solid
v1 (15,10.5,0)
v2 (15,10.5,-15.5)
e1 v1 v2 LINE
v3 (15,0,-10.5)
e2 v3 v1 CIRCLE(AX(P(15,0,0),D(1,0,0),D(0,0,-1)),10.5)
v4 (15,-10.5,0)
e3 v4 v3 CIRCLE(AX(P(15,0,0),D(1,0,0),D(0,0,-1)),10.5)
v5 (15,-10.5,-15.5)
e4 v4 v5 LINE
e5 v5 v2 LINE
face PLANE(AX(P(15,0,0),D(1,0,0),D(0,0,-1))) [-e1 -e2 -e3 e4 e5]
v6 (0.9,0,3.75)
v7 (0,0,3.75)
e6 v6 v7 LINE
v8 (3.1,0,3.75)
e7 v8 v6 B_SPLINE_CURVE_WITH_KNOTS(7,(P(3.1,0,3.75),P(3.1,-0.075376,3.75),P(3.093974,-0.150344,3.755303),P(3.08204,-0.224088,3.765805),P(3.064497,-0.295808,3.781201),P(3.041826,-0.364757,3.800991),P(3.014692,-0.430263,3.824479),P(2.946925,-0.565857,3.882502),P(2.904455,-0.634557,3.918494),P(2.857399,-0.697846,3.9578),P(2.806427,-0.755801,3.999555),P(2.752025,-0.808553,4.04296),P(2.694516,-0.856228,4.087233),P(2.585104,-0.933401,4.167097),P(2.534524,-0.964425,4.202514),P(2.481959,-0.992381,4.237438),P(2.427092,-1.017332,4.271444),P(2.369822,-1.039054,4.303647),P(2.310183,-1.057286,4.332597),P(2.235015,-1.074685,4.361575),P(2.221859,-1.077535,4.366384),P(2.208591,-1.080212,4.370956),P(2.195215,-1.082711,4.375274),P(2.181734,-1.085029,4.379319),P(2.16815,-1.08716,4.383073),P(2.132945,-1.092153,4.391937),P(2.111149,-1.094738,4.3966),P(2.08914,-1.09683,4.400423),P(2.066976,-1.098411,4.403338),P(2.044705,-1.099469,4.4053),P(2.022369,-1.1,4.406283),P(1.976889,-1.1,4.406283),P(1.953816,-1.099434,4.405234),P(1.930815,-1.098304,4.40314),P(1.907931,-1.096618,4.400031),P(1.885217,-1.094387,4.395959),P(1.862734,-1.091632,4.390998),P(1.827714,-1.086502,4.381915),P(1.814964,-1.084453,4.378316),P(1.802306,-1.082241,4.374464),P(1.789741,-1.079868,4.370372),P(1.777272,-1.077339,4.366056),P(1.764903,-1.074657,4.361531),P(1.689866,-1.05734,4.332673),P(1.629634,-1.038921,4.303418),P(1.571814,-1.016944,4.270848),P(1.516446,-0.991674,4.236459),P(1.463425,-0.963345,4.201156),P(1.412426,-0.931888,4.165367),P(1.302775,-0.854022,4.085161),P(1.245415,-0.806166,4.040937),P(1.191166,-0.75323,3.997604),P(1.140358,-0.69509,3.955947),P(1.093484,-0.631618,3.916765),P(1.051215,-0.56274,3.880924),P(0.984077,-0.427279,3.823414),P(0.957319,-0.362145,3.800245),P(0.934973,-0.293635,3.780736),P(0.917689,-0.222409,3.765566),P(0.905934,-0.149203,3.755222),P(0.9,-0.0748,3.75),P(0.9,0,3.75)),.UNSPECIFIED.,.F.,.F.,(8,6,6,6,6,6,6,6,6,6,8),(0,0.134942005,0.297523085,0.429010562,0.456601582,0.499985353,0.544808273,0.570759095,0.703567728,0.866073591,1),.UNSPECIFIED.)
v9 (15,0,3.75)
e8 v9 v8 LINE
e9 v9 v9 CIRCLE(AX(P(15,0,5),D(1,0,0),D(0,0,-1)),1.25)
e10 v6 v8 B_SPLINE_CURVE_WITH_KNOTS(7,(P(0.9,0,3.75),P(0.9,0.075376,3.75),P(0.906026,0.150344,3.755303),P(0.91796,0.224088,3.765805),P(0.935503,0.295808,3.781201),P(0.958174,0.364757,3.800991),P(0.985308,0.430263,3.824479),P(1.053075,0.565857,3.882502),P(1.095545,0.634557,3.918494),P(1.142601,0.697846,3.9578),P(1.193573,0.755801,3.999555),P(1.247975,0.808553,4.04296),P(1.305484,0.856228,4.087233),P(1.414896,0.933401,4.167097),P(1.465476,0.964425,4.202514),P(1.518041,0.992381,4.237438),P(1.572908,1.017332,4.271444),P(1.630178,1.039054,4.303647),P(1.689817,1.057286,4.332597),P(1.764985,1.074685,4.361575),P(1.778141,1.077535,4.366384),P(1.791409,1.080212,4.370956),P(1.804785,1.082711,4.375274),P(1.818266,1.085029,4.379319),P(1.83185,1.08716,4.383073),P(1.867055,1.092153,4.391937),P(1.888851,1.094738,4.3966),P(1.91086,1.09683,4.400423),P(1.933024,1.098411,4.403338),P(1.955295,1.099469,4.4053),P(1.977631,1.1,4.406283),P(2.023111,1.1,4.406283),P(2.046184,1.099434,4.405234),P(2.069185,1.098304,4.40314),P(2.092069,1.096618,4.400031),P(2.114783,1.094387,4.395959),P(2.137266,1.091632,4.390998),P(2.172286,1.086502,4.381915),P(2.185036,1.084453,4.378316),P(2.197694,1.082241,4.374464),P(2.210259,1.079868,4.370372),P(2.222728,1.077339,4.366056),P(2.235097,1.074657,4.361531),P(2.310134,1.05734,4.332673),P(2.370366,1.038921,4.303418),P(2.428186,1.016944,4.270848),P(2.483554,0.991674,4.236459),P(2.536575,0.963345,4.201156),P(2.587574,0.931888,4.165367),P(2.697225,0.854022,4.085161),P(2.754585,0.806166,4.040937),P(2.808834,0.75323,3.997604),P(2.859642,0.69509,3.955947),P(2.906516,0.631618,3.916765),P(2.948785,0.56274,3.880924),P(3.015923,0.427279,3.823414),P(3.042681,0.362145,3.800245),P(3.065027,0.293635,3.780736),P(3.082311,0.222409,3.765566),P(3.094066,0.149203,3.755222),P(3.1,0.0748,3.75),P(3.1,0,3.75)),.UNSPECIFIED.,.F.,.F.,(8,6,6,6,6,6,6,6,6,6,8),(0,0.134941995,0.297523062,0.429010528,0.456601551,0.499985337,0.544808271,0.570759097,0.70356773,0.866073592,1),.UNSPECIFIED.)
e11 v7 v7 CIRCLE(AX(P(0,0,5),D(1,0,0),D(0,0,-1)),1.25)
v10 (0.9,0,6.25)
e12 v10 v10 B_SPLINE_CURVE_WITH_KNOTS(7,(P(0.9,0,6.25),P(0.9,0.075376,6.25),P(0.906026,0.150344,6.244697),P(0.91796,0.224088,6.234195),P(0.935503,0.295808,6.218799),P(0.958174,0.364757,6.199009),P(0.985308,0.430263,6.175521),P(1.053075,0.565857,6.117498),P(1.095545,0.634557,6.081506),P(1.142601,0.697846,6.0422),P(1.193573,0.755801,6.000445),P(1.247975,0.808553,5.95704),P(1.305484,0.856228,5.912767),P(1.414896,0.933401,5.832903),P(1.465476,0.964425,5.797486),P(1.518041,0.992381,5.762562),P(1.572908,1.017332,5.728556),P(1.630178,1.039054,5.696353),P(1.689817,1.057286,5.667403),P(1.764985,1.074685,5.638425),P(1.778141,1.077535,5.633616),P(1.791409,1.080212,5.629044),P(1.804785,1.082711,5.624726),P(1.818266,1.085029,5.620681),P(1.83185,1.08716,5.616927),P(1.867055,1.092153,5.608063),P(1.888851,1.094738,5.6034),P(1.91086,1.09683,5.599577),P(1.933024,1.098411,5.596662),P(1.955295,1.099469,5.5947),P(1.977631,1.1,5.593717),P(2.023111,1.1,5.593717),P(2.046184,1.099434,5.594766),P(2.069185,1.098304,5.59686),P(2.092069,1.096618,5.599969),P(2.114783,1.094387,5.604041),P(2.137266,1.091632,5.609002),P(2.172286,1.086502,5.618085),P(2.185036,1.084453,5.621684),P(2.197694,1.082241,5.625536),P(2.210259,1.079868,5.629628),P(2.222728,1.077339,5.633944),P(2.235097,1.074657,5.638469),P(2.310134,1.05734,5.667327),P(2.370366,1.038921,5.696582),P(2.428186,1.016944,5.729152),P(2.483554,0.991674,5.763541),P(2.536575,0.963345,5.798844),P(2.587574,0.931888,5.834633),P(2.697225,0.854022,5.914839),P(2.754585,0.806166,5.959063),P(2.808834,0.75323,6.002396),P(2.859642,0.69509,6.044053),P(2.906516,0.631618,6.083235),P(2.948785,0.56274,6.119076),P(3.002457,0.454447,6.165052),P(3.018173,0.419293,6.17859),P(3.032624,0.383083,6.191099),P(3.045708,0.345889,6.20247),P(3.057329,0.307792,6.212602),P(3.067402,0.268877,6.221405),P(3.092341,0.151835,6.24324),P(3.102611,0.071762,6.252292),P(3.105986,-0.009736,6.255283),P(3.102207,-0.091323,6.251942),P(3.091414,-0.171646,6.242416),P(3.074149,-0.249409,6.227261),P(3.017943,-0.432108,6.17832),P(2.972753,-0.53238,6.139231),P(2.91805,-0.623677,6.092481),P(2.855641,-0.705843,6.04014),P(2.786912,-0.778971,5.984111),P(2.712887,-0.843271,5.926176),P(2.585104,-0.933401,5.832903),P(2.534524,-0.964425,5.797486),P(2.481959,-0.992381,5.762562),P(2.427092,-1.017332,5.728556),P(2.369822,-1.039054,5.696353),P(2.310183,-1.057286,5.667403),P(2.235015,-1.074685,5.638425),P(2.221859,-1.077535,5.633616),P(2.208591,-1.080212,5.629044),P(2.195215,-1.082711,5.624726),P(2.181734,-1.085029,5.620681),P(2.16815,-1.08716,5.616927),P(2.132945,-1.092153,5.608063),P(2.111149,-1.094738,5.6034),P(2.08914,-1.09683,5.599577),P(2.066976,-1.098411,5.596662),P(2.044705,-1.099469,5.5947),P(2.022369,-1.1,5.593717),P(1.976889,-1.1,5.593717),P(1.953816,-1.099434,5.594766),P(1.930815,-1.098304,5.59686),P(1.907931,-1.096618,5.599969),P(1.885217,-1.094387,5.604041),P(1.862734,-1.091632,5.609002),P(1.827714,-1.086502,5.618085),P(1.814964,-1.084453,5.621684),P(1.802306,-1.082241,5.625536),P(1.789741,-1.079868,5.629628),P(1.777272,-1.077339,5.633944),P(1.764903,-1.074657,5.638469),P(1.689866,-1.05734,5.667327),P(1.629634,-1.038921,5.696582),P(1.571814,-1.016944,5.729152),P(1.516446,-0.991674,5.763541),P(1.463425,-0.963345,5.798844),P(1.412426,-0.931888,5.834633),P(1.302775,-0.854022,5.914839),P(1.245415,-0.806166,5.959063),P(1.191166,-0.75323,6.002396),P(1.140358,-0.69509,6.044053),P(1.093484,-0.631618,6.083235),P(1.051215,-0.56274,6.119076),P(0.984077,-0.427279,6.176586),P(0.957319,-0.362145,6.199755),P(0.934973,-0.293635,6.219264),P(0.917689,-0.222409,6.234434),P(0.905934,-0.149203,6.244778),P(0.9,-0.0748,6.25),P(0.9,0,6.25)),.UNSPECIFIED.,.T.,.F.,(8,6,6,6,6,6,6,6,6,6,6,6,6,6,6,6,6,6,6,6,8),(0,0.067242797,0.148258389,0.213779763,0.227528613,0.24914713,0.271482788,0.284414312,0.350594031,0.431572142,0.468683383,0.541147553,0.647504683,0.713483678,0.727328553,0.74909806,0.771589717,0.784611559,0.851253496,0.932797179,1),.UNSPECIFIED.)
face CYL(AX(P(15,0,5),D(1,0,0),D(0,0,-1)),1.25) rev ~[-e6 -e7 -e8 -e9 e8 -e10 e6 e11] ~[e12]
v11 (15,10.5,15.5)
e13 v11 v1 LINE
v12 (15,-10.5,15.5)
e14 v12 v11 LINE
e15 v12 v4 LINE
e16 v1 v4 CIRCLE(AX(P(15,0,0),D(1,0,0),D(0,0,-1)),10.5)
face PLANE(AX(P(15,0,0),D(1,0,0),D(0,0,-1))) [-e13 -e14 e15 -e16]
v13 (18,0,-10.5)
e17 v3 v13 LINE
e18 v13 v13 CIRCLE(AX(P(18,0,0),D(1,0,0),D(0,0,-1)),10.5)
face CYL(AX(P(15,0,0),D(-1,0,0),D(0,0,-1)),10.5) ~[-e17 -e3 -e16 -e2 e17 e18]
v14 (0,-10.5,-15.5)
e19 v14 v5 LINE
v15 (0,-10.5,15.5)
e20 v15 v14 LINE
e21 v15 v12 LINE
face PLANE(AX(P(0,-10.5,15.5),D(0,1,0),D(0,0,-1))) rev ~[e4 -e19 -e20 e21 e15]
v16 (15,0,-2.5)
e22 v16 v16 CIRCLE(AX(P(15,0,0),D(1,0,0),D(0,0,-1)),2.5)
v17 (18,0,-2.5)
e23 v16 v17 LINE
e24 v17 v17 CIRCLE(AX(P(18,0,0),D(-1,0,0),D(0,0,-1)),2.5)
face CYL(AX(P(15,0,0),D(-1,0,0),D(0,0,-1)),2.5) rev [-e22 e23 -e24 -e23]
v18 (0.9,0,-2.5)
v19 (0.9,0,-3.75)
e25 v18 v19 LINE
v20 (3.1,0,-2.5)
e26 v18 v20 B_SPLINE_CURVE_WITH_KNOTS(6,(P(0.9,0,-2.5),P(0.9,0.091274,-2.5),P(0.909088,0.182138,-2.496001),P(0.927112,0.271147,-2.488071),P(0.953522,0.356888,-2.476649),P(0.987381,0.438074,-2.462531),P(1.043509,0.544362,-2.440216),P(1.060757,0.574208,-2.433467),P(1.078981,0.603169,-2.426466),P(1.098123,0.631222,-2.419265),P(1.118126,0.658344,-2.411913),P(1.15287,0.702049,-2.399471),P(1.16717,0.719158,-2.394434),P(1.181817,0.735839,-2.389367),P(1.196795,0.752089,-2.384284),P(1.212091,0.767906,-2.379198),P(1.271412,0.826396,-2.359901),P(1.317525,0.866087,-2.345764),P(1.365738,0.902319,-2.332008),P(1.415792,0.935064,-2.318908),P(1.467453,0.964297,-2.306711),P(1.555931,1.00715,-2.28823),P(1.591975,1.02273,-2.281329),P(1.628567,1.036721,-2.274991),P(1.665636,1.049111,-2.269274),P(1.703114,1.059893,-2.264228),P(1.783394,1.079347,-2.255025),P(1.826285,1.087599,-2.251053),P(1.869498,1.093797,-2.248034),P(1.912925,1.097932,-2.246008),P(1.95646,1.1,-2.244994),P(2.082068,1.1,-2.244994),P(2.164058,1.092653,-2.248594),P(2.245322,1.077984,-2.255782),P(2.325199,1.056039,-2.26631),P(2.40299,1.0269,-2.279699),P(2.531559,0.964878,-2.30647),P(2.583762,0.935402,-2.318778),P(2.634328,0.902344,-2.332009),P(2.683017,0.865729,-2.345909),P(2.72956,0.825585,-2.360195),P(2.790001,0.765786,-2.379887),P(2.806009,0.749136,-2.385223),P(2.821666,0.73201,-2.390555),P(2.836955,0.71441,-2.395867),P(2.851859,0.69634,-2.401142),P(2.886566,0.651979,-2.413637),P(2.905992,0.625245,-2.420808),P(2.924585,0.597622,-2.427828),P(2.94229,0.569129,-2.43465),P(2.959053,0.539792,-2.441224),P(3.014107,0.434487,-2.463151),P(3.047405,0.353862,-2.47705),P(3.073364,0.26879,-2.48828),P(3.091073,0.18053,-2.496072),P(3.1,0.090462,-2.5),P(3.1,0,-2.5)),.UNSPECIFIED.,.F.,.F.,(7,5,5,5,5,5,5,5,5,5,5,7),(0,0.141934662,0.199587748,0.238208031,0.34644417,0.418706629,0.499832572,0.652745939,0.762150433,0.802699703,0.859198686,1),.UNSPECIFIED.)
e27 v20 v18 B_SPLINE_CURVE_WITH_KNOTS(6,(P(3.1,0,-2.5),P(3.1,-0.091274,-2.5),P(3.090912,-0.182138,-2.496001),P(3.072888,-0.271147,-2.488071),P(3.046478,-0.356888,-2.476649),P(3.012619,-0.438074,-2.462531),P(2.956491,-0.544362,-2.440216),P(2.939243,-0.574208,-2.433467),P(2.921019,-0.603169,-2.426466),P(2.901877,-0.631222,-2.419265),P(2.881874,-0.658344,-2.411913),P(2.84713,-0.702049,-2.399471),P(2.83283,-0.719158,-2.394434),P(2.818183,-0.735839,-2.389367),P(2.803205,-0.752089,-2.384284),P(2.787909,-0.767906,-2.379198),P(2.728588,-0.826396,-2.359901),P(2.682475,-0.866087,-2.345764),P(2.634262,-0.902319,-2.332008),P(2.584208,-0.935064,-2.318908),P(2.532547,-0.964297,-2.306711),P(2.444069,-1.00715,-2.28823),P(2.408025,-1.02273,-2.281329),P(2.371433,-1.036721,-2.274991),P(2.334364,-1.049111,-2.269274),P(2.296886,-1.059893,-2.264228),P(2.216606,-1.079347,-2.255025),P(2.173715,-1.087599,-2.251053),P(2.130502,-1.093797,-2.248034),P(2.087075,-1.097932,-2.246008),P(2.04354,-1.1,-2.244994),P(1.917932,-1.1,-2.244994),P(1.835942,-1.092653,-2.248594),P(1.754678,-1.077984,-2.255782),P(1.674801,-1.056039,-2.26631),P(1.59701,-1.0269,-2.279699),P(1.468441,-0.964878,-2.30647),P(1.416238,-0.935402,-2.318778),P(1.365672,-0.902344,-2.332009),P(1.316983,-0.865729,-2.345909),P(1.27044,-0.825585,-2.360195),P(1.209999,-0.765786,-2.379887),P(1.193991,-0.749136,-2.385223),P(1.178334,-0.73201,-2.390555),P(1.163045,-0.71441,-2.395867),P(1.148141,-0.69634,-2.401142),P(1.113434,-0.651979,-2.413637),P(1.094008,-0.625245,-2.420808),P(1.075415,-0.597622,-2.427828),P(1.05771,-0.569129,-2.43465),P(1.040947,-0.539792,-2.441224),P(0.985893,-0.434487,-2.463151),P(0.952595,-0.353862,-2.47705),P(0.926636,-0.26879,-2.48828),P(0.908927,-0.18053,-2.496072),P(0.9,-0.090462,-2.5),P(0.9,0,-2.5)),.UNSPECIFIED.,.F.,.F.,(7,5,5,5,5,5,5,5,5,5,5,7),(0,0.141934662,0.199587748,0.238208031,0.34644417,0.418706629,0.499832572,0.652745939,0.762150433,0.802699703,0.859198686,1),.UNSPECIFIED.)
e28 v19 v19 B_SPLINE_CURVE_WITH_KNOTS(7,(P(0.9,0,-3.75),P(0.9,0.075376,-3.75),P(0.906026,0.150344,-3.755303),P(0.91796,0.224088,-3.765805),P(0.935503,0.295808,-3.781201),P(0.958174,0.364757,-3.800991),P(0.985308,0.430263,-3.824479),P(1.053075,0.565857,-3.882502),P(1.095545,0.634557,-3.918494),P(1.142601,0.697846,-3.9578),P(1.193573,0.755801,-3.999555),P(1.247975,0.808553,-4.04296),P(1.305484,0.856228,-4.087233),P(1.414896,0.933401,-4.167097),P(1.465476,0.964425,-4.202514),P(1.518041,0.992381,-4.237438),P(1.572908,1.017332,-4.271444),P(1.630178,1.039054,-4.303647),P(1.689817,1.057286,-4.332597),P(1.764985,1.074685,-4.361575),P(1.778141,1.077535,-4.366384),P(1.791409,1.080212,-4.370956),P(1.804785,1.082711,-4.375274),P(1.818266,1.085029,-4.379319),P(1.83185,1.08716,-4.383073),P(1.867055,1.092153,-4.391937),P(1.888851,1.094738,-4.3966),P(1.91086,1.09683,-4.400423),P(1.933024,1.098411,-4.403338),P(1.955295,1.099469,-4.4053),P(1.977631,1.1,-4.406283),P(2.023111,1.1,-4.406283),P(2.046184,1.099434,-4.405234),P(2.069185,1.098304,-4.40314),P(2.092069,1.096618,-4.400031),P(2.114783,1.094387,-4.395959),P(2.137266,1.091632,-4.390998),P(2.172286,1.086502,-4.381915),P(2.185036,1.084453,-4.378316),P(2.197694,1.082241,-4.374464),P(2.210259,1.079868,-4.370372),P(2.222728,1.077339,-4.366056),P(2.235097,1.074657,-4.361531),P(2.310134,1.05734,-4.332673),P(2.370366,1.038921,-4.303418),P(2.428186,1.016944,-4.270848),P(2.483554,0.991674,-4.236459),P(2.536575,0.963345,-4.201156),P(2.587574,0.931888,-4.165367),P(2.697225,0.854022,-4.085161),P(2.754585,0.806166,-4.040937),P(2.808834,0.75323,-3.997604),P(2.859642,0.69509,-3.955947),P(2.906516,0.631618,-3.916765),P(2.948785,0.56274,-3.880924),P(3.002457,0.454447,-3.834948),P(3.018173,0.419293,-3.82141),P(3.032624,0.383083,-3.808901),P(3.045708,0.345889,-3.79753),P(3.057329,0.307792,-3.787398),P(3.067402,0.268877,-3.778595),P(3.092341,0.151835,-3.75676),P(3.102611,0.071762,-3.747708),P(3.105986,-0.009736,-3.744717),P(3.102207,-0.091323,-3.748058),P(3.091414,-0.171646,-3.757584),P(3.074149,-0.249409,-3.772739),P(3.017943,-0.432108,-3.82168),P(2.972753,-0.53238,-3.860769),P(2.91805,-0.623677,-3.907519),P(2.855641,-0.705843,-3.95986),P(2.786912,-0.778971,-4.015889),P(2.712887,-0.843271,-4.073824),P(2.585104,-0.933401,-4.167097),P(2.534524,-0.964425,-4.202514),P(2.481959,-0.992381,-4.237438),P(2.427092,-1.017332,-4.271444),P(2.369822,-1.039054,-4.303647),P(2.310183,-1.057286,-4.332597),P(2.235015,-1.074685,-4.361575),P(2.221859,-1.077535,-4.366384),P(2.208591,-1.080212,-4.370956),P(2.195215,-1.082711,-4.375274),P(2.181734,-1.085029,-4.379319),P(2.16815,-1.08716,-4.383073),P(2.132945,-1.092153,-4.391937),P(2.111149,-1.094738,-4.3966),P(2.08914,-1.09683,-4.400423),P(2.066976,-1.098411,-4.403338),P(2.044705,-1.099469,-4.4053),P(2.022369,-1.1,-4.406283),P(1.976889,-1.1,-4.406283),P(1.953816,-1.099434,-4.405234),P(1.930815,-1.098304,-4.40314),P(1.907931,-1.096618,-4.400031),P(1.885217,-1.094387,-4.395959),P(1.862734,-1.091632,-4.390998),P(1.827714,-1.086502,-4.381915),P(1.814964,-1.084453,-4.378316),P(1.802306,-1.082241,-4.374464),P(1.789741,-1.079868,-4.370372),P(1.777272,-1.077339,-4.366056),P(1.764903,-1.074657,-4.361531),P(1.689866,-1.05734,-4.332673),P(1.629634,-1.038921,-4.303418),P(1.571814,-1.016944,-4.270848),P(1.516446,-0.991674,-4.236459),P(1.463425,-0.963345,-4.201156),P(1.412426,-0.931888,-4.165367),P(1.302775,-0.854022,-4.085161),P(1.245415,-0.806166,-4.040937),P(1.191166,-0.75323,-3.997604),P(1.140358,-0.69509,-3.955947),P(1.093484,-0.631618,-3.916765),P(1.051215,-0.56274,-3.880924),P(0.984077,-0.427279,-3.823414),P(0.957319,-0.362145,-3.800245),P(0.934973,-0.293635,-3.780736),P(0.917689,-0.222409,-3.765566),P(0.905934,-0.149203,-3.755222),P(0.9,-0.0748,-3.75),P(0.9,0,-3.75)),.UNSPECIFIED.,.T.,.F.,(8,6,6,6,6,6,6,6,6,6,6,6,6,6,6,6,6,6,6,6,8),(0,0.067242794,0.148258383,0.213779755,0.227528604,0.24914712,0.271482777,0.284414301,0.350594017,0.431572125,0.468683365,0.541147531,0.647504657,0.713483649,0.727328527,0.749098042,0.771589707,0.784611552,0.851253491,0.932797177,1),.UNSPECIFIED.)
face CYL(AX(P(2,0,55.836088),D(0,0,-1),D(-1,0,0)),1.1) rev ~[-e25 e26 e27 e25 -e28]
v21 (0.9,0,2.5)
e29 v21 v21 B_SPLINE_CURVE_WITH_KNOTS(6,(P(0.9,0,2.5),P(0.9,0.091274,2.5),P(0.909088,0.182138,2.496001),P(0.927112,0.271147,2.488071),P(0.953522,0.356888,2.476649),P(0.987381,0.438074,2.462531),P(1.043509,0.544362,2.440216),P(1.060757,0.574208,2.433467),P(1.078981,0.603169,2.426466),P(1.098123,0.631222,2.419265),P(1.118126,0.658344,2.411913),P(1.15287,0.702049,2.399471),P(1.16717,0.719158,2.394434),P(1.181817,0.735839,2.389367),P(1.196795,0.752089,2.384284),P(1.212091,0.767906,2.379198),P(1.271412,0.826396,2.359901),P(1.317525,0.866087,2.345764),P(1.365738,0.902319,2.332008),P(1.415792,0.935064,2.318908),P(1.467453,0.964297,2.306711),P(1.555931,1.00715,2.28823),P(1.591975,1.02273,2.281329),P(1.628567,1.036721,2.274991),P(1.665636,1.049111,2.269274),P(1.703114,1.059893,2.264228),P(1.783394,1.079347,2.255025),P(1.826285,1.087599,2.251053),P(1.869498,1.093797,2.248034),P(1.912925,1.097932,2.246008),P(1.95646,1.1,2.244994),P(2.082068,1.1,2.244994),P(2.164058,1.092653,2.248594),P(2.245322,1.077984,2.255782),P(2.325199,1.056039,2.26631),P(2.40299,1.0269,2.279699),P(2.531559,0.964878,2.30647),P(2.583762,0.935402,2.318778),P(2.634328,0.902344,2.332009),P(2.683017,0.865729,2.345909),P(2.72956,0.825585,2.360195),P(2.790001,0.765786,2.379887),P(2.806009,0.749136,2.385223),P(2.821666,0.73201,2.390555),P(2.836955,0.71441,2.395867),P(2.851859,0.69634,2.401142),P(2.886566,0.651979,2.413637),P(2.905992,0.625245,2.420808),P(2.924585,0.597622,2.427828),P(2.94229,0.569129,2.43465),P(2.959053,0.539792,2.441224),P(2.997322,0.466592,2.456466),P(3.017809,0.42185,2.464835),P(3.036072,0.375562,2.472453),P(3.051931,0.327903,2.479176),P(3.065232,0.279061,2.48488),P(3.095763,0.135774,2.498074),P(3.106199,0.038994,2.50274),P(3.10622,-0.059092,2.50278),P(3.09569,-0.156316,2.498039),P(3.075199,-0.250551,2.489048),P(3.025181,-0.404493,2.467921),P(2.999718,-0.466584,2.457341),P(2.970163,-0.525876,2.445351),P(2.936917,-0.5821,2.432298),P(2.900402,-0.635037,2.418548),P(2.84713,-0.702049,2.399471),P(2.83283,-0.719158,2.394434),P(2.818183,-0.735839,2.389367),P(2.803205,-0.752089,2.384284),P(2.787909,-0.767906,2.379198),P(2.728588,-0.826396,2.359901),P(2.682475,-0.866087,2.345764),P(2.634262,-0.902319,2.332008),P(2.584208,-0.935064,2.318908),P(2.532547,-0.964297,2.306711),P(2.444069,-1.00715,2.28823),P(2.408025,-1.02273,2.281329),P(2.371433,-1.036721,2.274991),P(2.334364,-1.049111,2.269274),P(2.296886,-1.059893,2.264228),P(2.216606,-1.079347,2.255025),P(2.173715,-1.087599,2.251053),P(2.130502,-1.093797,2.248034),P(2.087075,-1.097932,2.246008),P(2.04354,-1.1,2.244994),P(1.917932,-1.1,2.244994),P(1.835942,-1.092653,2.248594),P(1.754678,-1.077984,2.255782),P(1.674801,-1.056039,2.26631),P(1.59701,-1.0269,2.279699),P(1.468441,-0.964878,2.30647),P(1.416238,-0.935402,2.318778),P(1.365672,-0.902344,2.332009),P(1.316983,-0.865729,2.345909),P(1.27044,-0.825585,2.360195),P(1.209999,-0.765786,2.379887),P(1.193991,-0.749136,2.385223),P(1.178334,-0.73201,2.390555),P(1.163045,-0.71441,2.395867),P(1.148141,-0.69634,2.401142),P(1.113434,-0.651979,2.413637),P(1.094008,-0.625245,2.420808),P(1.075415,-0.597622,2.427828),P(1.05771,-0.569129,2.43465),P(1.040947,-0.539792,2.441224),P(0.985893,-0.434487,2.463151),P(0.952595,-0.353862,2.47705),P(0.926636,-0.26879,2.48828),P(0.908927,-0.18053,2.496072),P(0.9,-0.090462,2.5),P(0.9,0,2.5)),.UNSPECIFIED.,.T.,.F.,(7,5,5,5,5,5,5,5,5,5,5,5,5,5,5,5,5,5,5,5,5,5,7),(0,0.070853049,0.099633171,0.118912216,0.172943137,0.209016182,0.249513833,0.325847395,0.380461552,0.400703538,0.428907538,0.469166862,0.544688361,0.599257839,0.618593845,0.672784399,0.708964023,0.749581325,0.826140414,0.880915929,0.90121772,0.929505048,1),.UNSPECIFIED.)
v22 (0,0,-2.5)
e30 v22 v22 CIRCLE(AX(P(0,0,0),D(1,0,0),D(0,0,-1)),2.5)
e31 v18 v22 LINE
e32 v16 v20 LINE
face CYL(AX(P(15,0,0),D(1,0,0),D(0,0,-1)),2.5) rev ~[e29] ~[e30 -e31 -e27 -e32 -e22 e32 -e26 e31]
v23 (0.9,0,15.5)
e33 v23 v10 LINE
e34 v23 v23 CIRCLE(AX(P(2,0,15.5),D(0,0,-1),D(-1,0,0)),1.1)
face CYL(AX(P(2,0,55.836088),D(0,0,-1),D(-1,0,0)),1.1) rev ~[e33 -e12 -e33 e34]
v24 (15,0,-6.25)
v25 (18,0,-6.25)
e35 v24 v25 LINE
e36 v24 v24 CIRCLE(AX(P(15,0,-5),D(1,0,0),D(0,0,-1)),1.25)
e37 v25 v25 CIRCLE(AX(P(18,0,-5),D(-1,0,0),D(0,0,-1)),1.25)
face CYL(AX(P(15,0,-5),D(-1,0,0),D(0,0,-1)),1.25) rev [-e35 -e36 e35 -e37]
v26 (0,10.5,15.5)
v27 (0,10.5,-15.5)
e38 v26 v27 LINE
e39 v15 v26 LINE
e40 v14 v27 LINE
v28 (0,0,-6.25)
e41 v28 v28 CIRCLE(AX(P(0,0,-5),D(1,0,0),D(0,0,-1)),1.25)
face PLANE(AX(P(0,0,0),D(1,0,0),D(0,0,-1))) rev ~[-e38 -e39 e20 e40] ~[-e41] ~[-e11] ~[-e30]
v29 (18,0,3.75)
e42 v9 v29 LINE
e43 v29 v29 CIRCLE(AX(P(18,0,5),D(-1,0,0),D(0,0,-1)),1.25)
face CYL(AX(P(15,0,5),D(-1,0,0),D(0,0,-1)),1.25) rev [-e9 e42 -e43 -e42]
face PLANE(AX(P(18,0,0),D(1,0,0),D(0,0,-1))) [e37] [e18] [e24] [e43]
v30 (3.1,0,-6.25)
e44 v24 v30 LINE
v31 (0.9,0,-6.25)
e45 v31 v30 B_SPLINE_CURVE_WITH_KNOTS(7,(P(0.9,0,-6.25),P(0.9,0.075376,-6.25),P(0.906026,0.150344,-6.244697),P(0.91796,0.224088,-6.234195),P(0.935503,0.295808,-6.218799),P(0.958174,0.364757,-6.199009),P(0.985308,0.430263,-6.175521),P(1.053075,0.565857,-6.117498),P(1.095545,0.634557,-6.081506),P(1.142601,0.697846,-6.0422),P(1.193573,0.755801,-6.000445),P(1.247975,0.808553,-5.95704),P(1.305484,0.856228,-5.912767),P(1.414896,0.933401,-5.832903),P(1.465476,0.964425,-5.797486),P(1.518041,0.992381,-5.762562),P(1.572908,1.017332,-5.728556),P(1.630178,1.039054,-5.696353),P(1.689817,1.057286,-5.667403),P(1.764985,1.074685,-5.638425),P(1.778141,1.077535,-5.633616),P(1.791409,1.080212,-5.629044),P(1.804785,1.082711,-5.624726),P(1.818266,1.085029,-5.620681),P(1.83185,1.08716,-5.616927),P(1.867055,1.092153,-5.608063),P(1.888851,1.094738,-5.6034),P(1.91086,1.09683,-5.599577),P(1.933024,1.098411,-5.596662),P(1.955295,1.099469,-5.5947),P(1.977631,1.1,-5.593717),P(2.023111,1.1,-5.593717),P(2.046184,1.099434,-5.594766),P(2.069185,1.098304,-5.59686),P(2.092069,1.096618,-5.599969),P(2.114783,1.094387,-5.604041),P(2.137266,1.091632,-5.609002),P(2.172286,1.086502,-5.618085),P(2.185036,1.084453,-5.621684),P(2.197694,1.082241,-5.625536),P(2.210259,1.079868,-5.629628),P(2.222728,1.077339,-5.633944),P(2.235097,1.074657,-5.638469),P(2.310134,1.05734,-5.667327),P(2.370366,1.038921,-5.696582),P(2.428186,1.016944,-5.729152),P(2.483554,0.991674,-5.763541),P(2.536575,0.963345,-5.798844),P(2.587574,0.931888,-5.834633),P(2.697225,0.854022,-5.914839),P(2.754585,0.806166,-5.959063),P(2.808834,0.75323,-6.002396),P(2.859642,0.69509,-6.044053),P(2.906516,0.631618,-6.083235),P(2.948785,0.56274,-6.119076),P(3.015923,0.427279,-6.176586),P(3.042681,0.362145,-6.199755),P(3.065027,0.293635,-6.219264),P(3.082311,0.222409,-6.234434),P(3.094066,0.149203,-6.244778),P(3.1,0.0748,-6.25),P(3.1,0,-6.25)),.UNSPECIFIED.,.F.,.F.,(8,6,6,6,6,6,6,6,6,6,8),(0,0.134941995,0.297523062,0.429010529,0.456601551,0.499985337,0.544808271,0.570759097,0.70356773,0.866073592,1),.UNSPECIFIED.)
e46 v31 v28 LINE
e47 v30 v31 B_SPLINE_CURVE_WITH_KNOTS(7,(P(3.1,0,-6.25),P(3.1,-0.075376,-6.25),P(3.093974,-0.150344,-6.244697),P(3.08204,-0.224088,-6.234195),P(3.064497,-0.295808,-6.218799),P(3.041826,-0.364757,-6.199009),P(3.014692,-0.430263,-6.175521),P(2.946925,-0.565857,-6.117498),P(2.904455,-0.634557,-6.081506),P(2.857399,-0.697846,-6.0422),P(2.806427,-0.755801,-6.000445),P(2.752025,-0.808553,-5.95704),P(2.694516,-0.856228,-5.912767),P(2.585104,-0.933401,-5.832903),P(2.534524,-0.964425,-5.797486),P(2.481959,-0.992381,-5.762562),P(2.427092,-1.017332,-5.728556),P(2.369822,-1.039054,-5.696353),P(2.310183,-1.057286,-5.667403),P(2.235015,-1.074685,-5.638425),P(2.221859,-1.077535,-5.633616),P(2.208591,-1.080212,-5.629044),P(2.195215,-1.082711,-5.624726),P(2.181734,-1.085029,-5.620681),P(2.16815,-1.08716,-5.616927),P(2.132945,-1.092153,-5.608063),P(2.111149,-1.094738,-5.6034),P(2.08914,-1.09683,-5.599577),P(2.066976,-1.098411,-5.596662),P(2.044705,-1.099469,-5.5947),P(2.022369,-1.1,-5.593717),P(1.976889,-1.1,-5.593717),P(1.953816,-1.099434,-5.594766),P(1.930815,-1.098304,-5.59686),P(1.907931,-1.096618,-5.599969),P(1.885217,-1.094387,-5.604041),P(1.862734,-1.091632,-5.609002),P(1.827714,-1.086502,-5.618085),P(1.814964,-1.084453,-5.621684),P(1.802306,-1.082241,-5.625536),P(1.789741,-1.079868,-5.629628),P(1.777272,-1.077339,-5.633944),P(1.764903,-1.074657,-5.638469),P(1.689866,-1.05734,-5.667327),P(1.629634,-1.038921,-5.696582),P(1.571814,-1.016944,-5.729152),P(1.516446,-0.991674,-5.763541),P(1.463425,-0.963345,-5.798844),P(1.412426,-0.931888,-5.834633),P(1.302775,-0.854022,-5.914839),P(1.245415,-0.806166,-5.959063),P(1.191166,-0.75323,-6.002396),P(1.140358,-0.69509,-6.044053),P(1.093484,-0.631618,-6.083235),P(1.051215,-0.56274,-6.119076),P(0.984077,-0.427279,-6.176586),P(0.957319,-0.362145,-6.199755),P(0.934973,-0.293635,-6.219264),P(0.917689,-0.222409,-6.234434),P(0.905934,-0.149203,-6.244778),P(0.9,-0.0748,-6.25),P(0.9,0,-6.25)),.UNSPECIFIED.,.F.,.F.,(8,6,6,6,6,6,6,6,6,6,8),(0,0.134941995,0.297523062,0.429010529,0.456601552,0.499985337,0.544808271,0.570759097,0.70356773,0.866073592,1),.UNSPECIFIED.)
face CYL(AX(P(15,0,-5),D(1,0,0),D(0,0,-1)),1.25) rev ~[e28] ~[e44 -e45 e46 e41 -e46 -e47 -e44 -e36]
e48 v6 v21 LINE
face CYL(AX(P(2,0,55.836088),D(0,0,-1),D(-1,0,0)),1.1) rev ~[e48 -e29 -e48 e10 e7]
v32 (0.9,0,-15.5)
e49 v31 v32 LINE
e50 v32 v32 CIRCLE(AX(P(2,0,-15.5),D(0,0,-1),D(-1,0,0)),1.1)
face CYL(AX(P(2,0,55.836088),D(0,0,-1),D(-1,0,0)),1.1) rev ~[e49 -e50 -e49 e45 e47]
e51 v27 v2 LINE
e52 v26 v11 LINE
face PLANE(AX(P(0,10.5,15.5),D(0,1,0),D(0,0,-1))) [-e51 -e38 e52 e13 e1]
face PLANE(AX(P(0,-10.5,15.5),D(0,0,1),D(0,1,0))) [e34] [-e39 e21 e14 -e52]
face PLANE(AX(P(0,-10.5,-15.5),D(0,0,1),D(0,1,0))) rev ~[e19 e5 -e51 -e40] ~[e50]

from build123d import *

# Parameters (mm, degrees)
SKETCH1_W               = 31
SKETCH1_H               = 21
BOSS_EXTRUDE1_DEPTH     = 15
M2_CLEARANCE_HOLE1_D    = 2.2
SKETCH10_R              = 10.5
BOSS_EXTRUDE3_DEPTH     = 3
SKETCH7_R               = 1.25
SKETCH7_R_2             = 2.5
CUT_EXTRUDE1_DEPTH      = 4
CUT_EXTRUDE1_DEPTH_BACK = 16


with BuildPart() as part:
    # Sketch1 → Boss-Extrude1 (new body)
    with BuildSketch(Plane(origin=(0, 0, 0), x_dir=(0, 0, -1), z_dir=(1, 0, 0))):
        Rectangle(SKETCH1_W, SKETCH1_H)
    extrude(amount=BOSS_EXTRUDE1_DEPTH)

    # M2 Clearance Hole1 (through all)
    with Locations(Plane.XY.offset(15.5)):
        with Locations((2, 0)):
            Hole(M2_CLEARANCE_HOLE1_D / 2)

    # Sketch10 → Boss-Extrude3 (add)
    with BuildSketch(Plane(origin=(15, 0, 0), x_dir=(0, 0, -1), z_dir=(1, 0, 0))):
        Circle(SKETCH10_R)
    extrude(amount=BOSS_EXTRUDE3_DEPTH)

    # Sketch7 → Cut-Extrude1 (cut, two sides)
    with BuildSketch(Plane(origin=(15, 0, 0), x_dir=(0, 0, -1), z_dir=(1, 0, 0))) as cut_extrude1_sk:
        with Locations((-5, 0)):
            Circle(SKETCH7_R)
        with Locations((5, 0)):
            Circle(SKETCH7_R)
        Circle(SKETCH7_R_2)
    extrude(amount=CUT_EXTRUDE1_DEPTH, mode=Mode.SUBTRACT)
    extrude(cut_extrude1_sk.sketch, amount=-CUT_EXTRUDE1_DEPTH_BACK, mode=Mode.SUBTRACT)


solid = part.part
